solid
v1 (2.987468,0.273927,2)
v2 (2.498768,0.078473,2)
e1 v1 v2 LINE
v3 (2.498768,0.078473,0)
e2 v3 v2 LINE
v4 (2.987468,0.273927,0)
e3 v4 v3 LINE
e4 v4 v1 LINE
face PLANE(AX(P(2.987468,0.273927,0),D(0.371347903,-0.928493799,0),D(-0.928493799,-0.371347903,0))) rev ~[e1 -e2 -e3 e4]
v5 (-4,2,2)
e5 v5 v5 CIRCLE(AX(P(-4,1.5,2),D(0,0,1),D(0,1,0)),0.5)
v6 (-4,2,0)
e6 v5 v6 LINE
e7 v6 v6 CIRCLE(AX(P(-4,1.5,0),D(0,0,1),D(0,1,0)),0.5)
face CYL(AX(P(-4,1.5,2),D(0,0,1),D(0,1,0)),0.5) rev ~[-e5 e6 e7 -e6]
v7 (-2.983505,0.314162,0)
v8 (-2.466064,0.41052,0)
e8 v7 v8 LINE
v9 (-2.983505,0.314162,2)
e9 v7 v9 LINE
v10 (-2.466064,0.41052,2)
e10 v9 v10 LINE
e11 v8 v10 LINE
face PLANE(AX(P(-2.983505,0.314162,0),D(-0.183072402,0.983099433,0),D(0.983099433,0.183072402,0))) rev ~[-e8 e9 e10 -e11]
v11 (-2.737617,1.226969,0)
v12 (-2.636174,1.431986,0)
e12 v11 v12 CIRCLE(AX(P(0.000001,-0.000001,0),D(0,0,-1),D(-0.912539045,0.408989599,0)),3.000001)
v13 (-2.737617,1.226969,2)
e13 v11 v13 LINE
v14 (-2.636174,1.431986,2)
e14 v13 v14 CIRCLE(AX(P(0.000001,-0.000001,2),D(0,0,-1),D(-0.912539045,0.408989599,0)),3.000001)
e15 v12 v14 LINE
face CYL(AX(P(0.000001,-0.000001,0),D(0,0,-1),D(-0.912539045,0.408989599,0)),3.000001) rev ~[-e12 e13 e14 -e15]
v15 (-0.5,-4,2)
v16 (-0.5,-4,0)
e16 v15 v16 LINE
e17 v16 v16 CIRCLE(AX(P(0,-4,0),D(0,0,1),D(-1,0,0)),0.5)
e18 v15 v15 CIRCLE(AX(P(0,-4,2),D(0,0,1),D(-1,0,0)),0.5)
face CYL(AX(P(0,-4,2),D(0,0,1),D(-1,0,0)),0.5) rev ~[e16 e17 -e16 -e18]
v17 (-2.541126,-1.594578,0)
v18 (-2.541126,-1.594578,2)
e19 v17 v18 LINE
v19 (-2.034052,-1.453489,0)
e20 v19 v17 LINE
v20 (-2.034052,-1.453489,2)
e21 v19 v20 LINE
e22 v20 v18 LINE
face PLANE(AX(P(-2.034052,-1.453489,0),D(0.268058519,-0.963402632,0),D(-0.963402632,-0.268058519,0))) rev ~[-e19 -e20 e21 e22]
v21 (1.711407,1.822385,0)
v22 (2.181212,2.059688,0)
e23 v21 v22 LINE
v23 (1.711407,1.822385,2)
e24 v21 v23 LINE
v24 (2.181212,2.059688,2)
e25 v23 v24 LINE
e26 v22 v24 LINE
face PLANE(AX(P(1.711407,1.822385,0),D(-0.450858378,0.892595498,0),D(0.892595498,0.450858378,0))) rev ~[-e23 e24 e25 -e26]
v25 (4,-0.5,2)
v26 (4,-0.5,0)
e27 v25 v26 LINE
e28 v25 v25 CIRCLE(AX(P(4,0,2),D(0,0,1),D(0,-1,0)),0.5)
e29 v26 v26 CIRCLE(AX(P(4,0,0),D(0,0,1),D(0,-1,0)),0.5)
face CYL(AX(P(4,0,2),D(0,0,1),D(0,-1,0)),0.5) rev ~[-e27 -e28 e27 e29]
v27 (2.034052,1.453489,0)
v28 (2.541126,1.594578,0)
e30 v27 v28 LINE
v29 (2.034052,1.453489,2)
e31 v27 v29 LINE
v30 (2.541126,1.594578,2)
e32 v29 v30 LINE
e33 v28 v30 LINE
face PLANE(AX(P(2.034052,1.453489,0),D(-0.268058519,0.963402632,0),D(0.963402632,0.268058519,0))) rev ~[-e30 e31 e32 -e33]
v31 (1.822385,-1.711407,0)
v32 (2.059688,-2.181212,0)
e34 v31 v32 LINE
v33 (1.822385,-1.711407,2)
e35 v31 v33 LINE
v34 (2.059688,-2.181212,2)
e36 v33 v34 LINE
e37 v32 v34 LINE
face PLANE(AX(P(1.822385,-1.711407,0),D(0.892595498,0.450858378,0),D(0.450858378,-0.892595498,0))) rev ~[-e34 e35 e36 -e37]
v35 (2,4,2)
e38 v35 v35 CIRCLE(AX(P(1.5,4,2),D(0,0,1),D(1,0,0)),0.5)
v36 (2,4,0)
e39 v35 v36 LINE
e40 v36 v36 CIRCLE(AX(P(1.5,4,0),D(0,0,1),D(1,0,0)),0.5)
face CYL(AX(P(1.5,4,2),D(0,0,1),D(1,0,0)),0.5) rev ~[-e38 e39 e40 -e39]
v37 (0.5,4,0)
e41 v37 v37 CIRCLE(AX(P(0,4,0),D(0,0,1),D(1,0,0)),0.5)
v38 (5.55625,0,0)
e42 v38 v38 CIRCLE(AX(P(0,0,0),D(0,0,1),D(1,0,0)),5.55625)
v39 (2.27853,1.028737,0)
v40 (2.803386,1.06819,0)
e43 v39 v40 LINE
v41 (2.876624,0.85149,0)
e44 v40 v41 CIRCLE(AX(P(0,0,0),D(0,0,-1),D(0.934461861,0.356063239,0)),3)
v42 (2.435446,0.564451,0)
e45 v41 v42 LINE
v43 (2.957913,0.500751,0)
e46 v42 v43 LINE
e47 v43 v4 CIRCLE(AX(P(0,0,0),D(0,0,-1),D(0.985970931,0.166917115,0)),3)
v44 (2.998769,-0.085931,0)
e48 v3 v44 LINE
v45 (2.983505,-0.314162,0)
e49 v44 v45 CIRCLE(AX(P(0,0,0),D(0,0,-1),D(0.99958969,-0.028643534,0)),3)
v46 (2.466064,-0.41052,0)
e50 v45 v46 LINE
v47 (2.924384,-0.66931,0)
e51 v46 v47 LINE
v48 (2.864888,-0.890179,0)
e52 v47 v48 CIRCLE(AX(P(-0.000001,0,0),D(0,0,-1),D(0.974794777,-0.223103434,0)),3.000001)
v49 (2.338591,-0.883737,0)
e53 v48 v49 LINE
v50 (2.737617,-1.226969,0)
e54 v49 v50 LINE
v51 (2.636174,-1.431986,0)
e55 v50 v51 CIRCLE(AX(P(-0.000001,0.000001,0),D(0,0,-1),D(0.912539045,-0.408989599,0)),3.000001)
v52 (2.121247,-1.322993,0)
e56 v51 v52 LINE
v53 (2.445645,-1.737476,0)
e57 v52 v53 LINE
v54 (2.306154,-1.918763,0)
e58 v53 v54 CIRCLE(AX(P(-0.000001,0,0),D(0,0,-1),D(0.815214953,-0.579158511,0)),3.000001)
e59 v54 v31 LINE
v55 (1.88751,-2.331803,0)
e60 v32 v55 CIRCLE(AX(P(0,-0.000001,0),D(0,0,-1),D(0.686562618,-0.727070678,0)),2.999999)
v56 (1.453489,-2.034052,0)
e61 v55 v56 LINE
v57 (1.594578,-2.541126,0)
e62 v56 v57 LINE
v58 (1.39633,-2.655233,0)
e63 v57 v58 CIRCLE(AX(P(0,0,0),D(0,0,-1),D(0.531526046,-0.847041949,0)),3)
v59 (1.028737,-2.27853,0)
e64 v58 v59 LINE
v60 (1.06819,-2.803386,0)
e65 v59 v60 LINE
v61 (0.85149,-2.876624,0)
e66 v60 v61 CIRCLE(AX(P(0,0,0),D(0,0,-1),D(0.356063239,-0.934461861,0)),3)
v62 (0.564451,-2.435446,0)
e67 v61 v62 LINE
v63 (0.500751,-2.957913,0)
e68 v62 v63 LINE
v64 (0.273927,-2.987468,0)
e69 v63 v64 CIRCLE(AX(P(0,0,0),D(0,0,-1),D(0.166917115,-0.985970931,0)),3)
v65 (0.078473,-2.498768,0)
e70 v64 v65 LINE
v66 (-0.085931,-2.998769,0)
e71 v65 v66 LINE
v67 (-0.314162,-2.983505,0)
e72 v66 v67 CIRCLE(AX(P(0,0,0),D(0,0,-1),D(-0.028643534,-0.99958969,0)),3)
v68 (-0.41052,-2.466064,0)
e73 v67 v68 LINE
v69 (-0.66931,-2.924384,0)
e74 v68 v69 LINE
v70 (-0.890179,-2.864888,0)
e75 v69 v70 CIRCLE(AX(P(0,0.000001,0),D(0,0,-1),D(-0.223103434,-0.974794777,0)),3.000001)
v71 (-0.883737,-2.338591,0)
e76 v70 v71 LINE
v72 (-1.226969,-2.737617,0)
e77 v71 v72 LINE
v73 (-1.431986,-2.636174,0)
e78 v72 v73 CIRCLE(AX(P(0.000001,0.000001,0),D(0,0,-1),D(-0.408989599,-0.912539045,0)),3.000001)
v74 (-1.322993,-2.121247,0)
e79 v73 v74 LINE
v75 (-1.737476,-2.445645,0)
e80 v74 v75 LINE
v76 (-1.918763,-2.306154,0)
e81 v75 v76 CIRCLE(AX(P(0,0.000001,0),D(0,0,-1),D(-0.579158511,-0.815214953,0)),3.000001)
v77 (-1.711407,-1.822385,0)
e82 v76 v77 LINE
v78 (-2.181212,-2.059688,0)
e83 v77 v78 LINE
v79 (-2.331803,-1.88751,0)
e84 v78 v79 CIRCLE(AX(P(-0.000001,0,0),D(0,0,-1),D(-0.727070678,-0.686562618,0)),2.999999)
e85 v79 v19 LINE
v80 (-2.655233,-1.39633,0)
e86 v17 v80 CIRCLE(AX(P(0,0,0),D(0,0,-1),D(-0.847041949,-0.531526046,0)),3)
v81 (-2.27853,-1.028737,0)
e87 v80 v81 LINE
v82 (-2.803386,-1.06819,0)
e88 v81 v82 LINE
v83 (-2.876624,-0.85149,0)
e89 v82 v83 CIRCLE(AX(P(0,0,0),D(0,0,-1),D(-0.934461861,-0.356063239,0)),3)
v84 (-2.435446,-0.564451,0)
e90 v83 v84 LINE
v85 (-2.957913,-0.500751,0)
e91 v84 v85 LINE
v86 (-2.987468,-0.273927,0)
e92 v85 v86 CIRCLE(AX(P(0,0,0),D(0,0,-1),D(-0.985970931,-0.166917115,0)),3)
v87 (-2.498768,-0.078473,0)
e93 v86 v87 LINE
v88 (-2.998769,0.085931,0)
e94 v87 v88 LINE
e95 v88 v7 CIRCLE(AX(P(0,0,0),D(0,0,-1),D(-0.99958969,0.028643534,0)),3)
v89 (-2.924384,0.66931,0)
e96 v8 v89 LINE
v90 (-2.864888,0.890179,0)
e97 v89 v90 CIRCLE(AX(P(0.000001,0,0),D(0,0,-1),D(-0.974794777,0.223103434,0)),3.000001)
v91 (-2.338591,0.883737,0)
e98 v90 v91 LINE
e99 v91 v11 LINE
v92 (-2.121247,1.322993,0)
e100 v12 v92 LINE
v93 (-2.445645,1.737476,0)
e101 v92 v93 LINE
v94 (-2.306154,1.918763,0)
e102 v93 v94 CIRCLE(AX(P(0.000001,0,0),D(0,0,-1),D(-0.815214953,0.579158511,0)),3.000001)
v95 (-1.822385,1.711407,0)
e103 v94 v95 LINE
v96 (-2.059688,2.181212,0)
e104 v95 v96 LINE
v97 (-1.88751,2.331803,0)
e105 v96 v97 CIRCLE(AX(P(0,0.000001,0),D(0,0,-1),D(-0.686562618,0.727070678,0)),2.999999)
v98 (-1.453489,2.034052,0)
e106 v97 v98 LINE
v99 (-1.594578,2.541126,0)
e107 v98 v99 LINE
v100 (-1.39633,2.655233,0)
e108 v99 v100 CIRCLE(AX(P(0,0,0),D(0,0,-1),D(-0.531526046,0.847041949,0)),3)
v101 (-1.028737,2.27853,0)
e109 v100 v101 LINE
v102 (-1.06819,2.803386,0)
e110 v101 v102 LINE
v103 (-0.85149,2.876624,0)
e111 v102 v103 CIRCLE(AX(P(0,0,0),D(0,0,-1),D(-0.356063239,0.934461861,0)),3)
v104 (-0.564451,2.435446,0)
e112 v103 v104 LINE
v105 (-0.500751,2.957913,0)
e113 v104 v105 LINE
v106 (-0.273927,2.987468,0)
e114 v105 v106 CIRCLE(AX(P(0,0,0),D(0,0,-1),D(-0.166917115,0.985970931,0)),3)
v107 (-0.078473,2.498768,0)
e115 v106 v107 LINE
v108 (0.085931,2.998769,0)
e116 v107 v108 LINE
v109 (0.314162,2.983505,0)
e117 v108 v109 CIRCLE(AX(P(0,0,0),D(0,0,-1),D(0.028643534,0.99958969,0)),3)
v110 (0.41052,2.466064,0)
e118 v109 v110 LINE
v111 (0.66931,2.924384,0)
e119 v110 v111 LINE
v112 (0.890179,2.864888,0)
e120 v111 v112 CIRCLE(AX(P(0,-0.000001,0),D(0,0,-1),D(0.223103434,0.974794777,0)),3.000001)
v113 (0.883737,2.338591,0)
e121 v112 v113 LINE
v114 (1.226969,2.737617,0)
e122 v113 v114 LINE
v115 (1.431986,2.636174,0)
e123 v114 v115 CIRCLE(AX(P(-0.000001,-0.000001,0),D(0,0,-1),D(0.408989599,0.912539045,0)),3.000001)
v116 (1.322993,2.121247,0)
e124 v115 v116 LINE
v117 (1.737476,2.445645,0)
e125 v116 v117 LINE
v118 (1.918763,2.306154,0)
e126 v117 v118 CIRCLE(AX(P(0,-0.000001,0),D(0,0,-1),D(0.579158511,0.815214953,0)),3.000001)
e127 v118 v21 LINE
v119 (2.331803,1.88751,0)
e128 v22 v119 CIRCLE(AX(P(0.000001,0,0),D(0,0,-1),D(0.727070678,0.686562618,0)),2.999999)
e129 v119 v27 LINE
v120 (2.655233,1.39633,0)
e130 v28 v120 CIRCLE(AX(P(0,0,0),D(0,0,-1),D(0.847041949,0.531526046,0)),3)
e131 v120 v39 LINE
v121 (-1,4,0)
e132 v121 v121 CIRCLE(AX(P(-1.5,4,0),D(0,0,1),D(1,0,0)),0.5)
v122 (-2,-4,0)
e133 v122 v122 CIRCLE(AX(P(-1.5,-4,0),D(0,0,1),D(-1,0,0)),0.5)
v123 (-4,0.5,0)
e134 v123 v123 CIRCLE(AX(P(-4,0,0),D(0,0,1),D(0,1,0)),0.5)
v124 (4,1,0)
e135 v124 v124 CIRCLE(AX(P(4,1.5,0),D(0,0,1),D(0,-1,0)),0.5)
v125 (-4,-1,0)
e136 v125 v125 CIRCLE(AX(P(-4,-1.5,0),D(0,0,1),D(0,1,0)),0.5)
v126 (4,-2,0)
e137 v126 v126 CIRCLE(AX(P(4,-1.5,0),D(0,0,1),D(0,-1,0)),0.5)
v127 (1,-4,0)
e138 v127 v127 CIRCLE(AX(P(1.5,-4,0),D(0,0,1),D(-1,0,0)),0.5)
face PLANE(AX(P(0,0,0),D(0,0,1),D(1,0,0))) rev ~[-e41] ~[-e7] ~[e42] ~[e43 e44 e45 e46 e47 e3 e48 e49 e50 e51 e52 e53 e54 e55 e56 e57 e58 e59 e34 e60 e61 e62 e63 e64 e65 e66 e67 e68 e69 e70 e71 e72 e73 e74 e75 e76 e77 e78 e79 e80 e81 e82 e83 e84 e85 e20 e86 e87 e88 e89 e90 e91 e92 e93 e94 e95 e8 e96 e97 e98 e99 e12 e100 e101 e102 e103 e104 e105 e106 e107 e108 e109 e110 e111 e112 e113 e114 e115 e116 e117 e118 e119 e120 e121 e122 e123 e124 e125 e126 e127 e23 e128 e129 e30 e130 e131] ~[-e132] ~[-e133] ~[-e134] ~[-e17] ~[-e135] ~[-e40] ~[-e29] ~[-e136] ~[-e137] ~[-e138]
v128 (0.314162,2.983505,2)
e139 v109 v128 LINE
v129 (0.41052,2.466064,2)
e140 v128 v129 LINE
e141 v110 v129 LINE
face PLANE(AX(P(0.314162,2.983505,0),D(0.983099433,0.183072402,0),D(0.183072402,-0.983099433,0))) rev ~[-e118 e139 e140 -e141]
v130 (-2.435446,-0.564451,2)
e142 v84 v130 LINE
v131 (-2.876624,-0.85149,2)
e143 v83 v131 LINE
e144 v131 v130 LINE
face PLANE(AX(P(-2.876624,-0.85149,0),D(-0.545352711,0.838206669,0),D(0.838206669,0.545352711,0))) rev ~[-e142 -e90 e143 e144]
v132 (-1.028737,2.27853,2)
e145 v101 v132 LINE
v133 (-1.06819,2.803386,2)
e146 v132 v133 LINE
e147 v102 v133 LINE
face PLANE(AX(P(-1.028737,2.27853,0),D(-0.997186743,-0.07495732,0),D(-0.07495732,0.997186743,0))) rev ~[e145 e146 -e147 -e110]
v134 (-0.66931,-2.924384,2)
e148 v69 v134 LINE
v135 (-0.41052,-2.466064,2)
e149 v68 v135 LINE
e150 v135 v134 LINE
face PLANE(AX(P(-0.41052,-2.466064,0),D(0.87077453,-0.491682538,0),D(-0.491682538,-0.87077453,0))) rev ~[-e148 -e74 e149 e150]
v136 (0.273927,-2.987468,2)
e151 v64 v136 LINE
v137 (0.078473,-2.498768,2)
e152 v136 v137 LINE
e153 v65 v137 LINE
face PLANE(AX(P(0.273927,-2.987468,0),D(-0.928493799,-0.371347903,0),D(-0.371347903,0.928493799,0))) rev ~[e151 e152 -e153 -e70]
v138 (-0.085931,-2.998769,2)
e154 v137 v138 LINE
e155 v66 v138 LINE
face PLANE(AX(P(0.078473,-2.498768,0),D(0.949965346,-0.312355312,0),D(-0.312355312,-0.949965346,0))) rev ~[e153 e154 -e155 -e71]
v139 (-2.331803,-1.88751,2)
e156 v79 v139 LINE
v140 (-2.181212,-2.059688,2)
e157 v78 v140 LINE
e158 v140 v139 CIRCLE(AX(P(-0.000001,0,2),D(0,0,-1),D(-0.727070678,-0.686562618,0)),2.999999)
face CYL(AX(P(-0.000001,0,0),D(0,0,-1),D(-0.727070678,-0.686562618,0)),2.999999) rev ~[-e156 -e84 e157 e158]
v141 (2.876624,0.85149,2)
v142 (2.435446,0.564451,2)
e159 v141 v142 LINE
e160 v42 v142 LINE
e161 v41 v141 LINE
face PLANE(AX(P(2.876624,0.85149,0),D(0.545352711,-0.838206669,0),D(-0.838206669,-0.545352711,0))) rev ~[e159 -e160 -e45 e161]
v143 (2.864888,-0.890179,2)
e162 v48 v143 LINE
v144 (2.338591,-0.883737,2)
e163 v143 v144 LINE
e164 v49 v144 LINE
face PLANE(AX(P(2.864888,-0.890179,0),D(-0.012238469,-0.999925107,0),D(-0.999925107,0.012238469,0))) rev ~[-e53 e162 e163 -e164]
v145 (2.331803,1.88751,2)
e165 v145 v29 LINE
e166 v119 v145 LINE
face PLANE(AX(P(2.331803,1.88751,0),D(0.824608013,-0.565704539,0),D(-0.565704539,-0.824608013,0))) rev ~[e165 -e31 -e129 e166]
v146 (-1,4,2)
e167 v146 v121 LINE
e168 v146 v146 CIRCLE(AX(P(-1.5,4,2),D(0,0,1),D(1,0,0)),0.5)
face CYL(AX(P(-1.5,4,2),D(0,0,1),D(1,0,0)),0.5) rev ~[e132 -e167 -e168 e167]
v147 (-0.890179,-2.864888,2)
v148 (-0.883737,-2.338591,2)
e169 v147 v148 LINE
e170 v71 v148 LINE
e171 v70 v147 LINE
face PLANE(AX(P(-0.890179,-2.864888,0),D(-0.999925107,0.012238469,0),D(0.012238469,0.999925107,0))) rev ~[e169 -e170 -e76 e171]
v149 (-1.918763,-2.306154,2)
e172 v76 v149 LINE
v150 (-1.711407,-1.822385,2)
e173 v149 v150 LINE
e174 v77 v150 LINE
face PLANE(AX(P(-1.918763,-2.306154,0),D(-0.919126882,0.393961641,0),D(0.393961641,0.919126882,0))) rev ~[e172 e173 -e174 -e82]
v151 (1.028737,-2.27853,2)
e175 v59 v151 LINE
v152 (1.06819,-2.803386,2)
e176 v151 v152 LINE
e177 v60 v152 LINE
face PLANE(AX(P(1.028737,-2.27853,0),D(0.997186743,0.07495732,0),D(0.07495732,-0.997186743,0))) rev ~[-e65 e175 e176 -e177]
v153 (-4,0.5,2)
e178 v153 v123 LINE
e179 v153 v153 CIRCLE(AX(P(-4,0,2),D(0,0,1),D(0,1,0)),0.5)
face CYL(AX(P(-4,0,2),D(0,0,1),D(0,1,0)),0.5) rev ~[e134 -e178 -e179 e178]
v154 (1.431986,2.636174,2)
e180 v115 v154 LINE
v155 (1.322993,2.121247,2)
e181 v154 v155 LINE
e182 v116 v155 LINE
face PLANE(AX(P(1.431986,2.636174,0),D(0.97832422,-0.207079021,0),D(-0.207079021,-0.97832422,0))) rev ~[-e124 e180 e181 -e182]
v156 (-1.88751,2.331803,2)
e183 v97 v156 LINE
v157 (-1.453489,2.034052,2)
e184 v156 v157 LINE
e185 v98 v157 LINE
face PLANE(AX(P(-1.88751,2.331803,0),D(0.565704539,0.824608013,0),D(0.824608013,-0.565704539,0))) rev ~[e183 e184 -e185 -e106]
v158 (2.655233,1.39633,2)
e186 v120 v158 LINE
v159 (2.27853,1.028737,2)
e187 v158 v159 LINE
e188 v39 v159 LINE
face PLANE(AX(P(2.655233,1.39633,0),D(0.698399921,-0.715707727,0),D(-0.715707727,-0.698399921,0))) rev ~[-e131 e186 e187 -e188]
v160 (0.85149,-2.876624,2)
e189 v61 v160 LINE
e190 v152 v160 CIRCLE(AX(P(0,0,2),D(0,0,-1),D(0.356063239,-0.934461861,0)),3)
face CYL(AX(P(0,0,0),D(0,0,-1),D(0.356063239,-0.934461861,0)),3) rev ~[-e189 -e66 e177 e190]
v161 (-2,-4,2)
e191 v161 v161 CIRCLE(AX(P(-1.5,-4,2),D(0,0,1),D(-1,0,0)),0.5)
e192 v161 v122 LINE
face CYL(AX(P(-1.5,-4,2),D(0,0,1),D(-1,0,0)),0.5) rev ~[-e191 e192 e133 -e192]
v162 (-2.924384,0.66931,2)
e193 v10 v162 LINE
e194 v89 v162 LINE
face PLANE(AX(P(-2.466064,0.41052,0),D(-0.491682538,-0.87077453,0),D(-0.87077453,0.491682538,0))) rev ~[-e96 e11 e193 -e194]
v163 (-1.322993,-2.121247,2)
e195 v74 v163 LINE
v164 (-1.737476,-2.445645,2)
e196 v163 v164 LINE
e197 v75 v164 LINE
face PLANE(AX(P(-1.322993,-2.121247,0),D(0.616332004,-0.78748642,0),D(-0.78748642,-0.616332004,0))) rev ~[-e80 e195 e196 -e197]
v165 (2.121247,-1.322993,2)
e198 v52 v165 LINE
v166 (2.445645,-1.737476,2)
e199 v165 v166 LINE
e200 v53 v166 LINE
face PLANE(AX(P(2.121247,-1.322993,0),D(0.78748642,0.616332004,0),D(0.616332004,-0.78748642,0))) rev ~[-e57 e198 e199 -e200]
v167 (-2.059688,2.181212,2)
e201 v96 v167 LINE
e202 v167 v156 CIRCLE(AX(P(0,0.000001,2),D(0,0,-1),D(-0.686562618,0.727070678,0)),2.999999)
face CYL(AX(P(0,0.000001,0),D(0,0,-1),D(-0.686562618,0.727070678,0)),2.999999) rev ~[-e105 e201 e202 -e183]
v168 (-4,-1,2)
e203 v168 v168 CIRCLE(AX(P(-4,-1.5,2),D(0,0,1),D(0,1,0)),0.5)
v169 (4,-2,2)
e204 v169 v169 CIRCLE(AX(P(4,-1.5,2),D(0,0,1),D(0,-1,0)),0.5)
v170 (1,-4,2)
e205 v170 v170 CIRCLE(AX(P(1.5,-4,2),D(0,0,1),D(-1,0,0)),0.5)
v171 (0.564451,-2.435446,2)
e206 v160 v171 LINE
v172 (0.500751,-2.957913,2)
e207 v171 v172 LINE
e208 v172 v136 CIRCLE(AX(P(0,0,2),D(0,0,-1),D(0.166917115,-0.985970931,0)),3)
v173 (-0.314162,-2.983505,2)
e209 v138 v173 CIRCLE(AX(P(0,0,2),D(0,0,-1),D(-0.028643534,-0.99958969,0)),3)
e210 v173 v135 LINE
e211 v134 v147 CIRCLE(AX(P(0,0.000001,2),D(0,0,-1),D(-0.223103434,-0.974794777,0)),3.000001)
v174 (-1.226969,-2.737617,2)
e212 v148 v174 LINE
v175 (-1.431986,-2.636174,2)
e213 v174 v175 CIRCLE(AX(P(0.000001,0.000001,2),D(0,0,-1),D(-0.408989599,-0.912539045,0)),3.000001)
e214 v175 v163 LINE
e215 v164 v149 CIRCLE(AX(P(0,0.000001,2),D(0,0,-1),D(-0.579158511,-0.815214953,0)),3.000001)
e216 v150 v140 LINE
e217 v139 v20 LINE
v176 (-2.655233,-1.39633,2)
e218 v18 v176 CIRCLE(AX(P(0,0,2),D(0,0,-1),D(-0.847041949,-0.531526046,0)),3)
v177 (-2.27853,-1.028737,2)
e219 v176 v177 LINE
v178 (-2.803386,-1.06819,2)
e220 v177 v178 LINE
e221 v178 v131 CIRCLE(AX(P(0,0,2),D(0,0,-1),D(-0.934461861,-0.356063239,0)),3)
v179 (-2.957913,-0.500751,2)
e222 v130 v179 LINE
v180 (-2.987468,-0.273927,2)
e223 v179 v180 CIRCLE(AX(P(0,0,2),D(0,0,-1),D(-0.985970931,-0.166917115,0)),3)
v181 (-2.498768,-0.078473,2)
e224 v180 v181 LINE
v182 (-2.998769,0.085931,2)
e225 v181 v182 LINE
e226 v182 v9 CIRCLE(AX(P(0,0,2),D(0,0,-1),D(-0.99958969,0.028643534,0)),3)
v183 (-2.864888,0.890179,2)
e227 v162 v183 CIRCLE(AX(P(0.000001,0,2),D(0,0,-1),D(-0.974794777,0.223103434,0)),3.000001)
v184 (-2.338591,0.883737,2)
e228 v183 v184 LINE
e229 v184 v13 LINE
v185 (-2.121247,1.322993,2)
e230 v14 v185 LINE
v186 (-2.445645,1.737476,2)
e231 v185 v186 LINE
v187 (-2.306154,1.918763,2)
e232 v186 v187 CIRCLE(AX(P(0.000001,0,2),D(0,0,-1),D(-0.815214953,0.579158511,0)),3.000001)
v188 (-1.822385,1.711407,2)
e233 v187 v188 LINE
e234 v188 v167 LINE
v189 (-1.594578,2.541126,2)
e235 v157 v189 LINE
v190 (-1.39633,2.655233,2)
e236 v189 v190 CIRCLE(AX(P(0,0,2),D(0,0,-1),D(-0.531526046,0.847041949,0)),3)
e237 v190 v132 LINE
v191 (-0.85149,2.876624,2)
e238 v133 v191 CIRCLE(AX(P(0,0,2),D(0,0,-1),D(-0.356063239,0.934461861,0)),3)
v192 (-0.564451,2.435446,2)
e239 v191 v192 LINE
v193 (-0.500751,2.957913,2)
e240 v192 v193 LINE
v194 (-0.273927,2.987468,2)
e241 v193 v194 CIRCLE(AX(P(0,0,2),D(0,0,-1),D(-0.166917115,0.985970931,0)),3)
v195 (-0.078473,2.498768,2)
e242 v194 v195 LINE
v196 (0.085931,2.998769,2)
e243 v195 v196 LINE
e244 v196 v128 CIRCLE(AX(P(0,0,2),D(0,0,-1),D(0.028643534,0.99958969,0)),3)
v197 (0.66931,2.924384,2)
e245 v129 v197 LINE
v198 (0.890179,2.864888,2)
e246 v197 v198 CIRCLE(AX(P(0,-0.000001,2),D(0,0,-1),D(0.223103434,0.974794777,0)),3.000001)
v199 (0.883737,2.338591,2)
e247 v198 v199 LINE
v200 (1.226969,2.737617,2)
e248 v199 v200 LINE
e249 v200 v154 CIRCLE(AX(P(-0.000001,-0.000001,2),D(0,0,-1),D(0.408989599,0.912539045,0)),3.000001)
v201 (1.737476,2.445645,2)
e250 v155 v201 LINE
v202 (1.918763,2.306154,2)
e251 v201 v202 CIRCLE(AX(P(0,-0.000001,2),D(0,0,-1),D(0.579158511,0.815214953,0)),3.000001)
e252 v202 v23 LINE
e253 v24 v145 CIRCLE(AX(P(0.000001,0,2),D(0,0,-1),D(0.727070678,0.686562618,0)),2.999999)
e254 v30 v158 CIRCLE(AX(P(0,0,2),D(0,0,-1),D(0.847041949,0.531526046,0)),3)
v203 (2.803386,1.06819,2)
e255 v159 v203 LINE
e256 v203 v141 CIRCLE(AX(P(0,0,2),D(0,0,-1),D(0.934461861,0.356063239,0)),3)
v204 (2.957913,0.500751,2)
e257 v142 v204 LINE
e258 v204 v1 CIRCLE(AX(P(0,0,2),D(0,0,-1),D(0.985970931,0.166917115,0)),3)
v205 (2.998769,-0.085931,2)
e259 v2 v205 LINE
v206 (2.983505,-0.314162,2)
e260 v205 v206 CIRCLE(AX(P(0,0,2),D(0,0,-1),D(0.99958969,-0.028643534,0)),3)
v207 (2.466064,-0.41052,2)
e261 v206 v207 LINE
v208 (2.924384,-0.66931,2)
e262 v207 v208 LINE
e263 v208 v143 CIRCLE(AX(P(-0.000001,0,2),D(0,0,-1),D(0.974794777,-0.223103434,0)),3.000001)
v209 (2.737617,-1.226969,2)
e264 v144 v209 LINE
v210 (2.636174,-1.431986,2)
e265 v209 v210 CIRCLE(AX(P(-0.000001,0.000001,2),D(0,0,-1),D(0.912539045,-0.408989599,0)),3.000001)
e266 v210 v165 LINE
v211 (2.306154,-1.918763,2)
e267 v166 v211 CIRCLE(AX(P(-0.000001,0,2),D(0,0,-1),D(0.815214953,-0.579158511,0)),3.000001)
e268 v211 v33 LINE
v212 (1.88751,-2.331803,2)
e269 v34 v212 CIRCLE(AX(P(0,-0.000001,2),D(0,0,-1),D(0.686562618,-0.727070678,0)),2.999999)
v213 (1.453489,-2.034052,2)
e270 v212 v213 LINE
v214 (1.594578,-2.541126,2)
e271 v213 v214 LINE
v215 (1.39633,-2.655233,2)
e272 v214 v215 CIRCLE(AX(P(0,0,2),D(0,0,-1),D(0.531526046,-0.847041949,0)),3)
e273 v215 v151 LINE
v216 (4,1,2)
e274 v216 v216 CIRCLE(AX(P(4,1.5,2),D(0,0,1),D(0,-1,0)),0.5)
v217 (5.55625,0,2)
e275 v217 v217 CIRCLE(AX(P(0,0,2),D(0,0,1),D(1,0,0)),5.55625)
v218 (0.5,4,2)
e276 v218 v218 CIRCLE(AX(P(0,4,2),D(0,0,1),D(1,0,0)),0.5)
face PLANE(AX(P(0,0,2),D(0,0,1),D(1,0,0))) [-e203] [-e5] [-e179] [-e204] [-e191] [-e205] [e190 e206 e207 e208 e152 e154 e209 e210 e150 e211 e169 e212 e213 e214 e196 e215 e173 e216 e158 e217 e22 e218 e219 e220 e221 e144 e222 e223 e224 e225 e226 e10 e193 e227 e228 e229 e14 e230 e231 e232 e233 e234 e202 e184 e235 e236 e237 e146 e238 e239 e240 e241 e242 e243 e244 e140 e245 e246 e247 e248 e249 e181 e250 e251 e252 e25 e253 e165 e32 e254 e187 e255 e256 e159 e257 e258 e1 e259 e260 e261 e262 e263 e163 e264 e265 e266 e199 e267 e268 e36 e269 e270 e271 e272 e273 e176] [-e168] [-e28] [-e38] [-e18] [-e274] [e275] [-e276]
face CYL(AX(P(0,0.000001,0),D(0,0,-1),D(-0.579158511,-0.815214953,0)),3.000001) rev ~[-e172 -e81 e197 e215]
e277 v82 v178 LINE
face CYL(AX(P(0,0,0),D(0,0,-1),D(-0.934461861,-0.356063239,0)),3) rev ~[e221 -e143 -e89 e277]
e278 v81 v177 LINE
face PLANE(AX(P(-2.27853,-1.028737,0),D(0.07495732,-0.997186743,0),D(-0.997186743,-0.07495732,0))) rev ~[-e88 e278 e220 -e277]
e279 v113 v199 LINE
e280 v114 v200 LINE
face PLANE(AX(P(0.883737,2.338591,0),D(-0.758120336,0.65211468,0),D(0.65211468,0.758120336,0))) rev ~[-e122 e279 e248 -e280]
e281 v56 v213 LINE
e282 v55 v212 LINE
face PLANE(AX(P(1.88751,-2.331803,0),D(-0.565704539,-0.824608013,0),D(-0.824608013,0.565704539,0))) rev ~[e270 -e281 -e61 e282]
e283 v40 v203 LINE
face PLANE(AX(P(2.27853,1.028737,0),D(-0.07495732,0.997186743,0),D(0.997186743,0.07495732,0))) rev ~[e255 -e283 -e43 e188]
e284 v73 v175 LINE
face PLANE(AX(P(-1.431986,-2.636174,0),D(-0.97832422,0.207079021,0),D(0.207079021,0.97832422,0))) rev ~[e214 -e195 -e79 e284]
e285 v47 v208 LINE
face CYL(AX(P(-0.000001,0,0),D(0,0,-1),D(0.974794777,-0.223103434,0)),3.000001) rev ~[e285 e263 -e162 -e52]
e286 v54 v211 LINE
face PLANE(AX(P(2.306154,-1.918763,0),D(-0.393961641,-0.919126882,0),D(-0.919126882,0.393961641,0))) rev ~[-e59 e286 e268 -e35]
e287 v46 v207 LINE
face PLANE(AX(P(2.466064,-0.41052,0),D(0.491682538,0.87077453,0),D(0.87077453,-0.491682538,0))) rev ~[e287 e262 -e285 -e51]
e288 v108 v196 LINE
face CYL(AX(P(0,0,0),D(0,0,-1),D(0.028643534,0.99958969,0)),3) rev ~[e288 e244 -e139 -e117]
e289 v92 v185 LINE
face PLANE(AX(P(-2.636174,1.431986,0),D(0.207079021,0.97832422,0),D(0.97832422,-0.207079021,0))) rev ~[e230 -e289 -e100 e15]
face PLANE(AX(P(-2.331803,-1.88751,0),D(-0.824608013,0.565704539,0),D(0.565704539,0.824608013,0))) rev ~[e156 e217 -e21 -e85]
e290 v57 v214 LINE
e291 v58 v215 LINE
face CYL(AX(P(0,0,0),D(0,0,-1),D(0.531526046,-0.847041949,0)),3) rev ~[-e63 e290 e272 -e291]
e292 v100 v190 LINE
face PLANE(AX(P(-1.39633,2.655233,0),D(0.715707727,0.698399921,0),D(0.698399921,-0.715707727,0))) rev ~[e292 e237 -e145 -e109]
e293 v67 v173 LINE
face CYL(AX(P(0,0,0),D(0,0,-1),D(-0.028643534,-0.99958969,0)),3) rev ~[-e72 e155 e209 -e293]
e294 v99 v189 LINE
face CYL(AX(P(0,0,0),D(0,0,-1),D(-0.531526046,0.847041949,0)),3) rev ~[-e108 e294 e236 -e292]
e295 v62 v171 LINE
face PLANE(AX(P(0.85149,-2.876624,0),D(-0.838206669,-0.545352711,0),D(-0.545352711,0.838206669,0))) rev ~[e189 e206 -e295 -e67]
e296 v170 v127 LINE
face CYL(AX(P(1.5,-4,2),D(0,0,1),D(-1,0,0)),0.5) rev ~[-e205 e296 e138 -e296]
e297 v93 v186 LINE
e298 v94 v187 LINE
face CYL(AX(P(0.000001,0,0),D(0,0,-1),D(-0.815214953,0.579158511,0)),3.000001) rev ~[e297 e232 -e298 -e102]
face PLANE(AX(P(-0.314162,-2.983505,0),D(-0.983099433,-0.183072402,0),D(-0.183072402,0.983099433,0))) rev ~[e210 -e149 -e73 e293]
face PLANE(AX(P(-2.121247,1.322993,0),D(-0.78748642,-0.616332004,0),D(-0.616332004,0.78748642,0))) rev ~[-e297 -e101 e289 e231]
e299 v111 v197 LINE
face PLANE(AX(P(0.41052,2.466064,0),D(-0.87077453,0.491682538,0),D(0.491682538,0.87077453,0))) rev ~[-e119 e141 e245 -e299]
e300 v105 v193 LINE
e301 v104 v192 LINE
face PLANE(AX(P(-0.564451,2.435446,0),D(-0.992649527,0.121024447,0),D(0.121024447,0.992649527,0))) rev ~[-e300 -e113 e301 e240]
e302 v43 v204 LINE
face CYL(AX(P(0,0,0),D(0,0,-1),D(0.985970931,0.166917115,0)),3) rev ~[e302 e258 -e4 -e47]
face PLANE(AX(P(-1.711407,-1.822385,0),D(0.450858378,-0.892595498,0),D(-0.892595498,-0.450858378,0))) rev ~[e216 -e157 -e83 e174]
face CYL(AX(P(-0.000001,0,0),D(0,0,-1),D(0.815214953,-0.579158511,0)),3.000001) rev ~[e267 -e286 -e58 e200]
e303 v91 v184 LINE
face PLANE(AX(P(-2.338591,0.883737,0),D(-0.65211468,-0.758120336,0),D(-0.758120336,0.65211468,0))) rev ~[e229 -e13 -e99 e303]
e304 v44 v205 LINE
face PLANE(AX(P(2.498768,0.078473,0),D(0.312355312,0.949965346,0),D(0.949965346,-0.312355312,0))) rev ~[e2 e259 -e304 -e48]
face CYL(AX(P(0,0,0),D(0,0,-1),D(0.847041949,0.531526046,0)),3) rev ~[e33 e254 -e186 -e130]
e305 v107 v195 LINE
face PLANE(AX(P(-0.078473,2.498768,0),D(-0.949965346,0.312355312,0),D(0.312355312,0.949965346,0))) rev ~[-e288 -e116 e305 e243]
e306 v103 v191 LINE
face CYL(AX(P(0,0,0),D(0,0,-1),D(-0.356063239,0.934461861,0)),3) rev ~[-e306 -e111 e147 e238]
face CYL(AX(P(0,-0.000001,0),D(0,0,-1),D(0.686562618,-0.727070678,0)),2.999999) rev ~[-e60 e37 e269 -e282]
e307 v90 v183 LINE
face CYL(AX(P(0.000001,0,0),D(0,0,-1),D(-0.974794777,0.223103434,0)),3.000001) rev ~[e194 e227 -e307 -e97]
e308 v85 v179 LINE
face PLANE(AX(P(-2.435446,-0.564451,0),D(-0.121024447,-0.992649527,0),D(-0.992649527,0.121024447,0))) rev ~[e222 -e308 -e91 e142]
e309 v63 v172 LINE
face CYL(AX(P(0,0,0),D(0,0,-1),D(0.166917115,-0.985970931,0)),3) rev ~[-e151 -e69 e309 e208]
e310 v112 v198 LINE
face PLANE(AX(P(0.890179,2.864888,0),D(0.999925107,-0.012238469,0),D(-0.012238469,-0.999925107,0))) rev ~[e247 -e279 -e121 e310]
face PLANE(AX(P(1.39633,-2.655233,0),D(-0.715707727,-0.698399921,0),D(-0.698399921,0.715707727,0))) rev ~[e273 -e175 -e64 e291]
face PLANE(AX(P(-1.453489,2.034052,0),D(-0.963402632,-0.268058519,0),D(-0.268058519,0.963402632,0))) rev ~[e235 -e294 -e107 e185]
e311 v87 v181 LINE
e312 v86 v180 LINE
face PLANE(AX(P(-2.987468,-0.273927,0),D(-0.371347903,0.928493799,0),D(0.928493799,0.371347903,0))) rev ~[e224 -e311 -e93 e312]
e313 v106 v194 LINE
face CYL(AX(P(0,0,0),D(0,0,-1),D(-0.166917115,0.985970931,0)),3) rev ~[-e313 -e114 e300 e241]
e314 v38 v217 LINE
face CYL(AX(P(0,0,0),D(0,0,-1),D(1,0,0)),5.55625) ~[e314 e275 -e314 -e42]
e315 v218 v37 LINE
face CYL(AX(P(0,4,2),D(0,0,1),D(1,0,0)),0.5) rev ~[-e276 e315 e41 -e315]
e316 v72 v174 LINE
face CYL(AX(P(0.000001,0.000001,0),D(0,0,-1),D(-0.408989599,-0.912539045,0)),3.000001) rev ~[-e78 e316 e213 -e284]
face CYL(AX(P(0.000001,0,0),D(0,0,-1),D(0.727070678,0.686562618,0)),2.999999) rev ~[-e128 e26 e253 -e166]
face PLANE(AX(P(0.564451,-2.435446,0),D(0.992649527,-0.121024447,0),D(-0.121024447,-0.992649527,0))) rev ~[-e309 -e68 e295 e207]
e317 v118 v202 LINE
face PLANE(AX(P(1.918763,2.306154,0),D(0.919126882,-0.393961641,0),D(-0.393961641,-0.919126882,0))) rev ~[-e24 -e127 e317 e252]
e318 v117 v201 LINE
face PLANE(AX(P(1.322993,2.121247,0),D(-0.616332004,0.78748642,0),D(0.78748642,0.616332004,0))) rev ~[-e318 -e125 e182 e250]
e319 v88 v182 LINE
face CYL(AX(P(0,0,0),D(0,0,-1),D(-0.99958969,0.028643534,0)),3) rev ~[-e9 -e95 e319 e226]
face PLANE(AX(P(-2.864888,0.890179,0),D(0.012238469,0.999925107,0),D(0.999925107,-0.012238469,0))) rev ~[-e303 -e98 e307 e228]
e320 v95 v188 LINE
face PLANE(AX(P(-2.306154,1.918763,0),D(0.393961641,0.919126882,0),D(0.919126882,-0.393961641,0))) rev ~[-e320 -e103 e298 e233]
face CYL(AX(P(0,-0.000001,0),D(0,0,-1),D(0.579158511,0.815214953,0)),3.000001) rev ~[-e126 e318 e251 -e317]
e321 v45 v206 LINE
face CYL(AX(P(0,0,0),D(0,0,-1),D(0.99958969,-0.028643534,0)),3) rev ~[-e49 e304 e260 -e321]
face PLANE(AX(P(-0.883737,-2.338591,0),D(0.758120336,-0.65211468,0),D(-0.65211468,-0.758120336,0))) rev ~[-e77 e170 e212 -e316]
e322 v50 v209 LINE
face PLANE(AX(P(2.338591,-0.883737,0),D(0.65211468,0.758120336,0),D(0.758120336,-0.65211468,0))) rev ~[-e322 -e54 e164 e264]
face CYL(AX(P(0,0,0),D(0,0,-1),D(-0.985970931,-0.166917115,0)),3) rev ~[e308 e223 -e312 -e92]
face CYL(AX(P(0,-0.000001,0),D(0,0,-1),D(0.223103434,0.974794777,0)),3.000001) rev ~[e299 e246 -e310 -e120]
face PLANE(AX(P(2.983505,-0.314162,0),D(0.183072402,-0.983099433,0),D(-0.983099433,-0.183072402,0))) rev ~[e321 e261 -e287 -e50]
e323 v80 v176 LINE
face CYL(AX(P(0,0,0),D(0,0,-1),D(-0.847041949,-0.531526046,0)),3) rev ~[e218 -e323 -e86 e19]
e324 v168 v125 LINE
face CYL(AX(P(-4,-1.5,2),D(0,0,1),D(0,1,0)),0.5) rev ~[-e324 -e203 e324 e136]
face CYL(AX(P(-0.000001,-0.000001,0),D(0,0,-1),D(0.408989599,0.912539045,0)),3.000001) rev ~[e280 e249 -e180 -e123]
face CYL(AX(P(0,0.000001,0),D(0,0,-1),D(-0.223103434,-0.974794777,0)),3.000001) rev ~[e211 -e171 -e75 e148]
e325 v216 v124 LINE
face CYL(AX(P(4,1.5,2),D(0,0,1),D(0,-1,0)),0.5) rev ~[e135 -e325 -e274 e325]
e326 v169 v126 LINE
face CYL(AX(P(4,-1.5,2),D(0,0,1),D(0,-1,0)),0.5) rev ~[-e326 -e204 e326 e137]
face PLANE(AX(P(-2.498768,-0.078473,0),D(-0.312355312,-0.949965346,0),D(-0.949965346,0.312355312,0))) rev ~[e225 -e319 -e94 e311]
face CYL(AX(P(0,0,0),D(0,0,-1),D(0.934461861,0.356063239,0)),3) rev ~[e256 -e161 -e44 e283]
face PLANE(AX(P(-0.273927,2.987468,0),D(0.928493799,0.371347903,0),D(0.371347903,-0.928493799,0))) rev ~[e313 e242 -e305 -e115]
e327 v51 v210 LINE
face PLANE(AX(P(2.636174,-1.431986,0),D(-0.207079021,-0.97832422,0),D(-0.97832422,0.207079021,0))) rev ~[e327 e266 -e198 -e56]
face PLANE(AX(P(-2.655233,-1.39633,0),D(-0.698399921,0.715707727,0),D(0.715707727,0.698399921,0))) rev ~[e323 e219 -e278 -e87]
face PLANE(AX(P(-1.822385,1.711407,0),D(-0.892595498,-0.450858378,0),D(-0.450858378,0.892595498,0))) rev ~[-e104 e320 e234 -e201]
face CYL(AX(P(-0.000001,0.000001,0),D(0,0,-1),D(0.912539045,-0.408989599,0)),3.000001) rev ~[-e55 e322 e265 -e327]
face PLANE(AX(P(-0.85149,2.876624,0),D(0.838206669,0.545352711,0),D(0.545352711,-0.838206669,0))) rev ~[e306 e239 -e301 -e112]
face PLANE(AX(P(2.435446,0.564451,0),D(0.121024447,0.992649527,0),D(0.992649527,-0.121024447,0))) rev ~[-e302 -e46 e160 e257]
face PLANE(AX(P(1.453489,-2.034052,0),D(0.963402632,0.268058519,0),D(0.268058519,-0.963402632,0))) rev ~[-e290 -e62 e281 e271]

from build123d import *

# Parameters (mm, degrees)
SKETCH1_R          = 5.55625
EXTRUDE1_DEPTH     = 2
SKETCH2_R          = 0.5
CUT_EXTRUDE1_DEPTH = 2
CIRPATTERN1_COUNT  = 4
CUT_EXTRUDE2_DEPTH = 2


with BuildPart() as part:
    # Sketch1 → Extrude1 (new body)
    with BuildSketch(Plane.XY):
        Circle(SKETCH1_R)
    extrude(amount=EXTRUDE1_DEPTH)

    # Sketch2 → Cut-Extrude1 (cut)
    with BuildSketch(Plane.XY.offset(2)):
        with Locations((-1.5, 4)):
            Circle(SKETCH2_R)
        with Locations((0, 4)):
            Circle(SKETCH2_R)
        with Locations((1.5, 4)):
            Circle(SKETCH2_R)
    cut_extrude1 = extrude(amount=-CUT_EXTRUDE1_DEPTH, mode=Mode.SUBTRACT)

    # CirPattern1: Cut-Extrude1 ×4 about axis
    cirpattern1_axis = Axis((0, 0, 0), (0, 0, 1))
    for i in range(1, CIRPATTERN1_COUNT):
        add(cut_extrude1.rotate(cirpattern1_axis, i * 360 / CIRPATTERN1_COUNT), mode=Mode.SUBTRACT)

    # Sketch3 → Cut-Extrude2 (cut)
    with BuildSketch(Plane(origin=(0, 0, 0), x_dir=(-1, 0, 0), z_dir=(0, 0, -1))):
        with BuildLine():
            Line((2.655233037, -1.396330018), (2.278530277, -1.02873698))
            Line((2.278530277, -1.02873698), (2.803385583, -1.068189718))
            ThreePointArc((2.803385583, -1.068189718), (2.842070866, -0.960537971), (2.876623952, -0.85148966))
            Line((2.876623952, -0.85148966), (2.435445586, -0.564450882))
            Line((2.435445586, -0.564450882), (2.957912791, -0.500751356))
            ThreePointArc((2.957912791, -0.500751356), (2.974852933, -0.387620982), (2.987467821, -0.273927032))
            Line((2.987467821, -0.273927032), (2.498768086, -0.078473253))
            Line((2.498768086, -0.078473253), (2.998769069, 0.0859306))
            ThreePointArc((2.998769069, 0.0859306), (2.99331307, 0.200192063), (2.983504977, 0.314162459))
            Line((2.983504977, 0.314162459), (2.46606433, 0.410520059))
            Line((2.46606433, 0.410520059), (2.924384334, 0.669310291))
            ThreePointArc((2.924384334, 0.669310291), (2.896741865, 0.780311839), (2.864887711, 0.890178862))
            Line((2.864887711, 0.890178862), (2.338591105, 0.883737315))
            Line((2.338591105, 0.883737315), (2.737617149, 1.226968763))
            ThreePointArc((2.737617149, 1.226968763), (2.688850494, 1.330444669), (2.636174416, 1.431986191))
            Line((2.636174416, 1.431986191), (2.121247135, 1.322993042))
            Line((2.121247135, 1.322993042), (2.445644872, 1.737475514))
            ThreePointArc((2.445644872, 1.737475514), (2.377628107, 1.829449257), (2.306154417, 1.918763093))
            Line((2.306154417, 1.918763093), (1.822384828, 1.711406889))
            Line((1.822384828, 1.711406889), (2.059687834, 2.181212054))
            ThreePointArc((2.059687834, 2.181212054), (1.975034805, 2.258149136), (1.887510196, 2.331803006))
            Line((1.887510196, 2.331803006), (1.453489293, 2.034052328))
            Line((1.453489293, 2.034052328), (1.594578148, 2.541125839))
            ThreePointArc((1.594578148, 2.541125839), (1.496542023, 2.600069609), (1.396330018, 2.655233037))
            Line((1.396330018, 2.655233037), (1.02873698, 2.278530277))
            Line((1.02873698, 2.278530277), (1.068189718, 2.803385583))
            ThreePointArc((1.068189718, 2.803385583), (0.960537971, 2.842070866), (0.85148966, 2.876623952))
            Line((0.85148966, 2.876623952), (0.564450882, 2.435445586))
            Line((0.564450882, 2.435445586), (0.500751356, 2.957912791))
            ThreePointArc((0.500751356, 2.957912791), (0.387620982, 2.974852933), (0.273927032, 2.987467821))
            Line((0.273927032, 2.987467821), (0.078473253, 2.498768086))
            Line((0.078473253, 2.498768086), (-0.0859306, 2.998769069))
            ThreePointArc((-0.0859306, 2.998769069), (-0.200192063, 2.99331307), (-0.314162459, 2.983504977))
            Line((-0.314162459, 2.983504977), (-0.410520059, 2.46606433))
            Line((-0.410520059, 2.46606433), (-0.669310291, 2.924384334))
            ThreePointArc((-0.669310291, 2.924384334), (-0.780311839, 2.896741865), (-0.890178862, 2.864887711))
            Line((-0.890178862, 2.864887711), (-0.883737315, 2.338591105))
            Line((-0.883737315, 2.338591105), (-1.226968763, 2.737617149))
            ThreePointArc((-1.226968763, 2.737617149), (-1.330444669, 2.688850494), (-1.431986191, 2.636174416))
            Line((-1.431986191, 2.636174416), (-1.322993042, 2.121247135))
            Line((-1.322993042, 2.121247135), (-1.737475514, 2.445644872))
            ThreePointArc((-1.737475514, 2.445644872), (-1.829449257, 2.377628107), (-1.918763093, 2.306154417))
            Line((-1.918763093, 2.306154417), (-1.711406889, 1.822384828))
            Line((-1.711406889, 1.822384828), (-2.181212054, 2.059687834))
            ThreePointArc((-2.181212054, 2.059687834), (-2.258149136, 1.975034805), (-2.331803006, 1.887510196))
            Line((-2.331803006, 1.887510196), (-2.034052328, 1.453489293))
            Line((-2.034052328, 1.453489293), (-2.541125839, 1.594578148))
            ThreePointArc((-2.541125839, 1.594578148), (-2.600069609, 1.496542023), (-2.655233037, 1.396330018))
            Line((-2.655233037, 1.396330018), (-2.278530277, 1.02873698))
            Line((-2.278530277, 1.02873698), (-2.803385583, 1.068189718))
            ThreePointArc((-2.803385583, 1.068189718), (-2.842070866, 0.960537971), (-2.876623952, 0.85148966))
            Line((-2.876623952, 0.85148966), (-2.435445586, 0.564450882))
            Line((-2.435445586, 0.564450882), (-2.957912791, 0.500751356))
            ThreePointArc((-2.957912791, 0.500751356), (-2.974852933, 0.387620982), (-2.987467821, 0.273927032))
            Line((-2.987467821, 0.273927032), (-2.498768086, 0.078473253))
            Line((-2.498768086, 0.078473253), (-2.998769069, -0.0859306))
            ThreePointArc((-2.998769069, -0.0859306), (-2.99331307, -0.200192063), (-2.983504977, -0.314162459))
            Line((-2.983504977, -0.314162459), (-2.46606433, -0.410520059))
            Line((-2.46606433, -0.410520059), (-2.924384334, -0.669310291))
            ThreePointArc((-2.924384334, -0.669310291), (-2.896741865, -0.780311839), (-2.864887711, -0.890178862))
            Line((-2.864887711, -0.890178862), (-2.338591105, -0.883737315))
            Line((-2.338591105, -0.883737315), (-2.737617149, -1.226968763))
            ThreePointArc((-2.737617149, -1.226968763), (-2.688850494, -1.330444669), (-2.636174416, -1.431986191))
            Line((-2.636174416, -1.431986191), (-2.121247135, -1.322993042))
            Line((-2.121247135, -1.322993042), (-2.445644872, -1.737475514))
            ThreePointArc((-2.445644872, -1.737475514), (-2.377628107, -1.829449257), (-2.306154417, -1.918763093))
            Line((-2.306154417, -1.918763093), (-1.822384828, -1.711406889))
            Line((-1.822384828, -1.711406889), (-2.059687834, -2.181212054))
            ThreePointArc((-2.059687834, -2.181212054), (-1.975034805, -2.258149136), (-1.887510196, -2.331803006))
            Line((-1.887510196, -2.331803006), (-1.453489293, -2.034052328))
            Line((-1.453489293, -2.034052328), (-1.594578148, -2.541125839))
            ThreePointArc((-1.594578148, -2.541125839), (-1.496542023, -2.600069609), (-1.396330018, -2.655233037))
            Line((-1.396330018, -2.655233037), (-1.02873698, -2.278530277))
            Line((-1.02873698, -2.278530277), (-1.068189718, -2.803385583))
            ThreePointArc((-1.068189718, -2.803385583), (-0.960537971, -2.842070866), (-0.85148966, -2.876623952))
            Line((-0.85148966, -2.876623952), (-0.564450882, -2.435445586))
            Line((-0.564450882, -2.435445586), (-0.500751356, -2.957912791))
            ThreePointArc((-0.500751356, -2.957912791), (-0.387620982, -2.974852933), (-0.273927032, -2.987467821))
            Line((-0.273927032, -2.987467821), (-0.078473253, -2.498768086))
            Line((-0.078473253, -2.498768086), (0.0859306, -2.998769069))
            ThreePointArc((0.0859306, -2.998769069), (0.200192063, -2.99331307), (0.314162459, -2.983504977))
            Line((0.314162459, -2.983504977), (0.410520059, -2.46606433))
            Line((0.410520059, -2.46606433), (0.669310291, -2.924384334))
            ThreePointArc((0.669310291, -2.924384334), (0.780311839, -2.896741865), (0.890178862, -2.864887711))
            Line((0.890178862, -2.864887711), (0.883737315, -2.338591105))
            Line((0.883737315, -2.338591105), (1.226968763, -2.737617149))
            ThreePointArc((1.226968763, -2.737617149), (1.330444669, -2.688850494), (1.431986191, -2.636174416))
            Line((1.431986191, -2.636174416), (1.322993042, -2.121247135))
            Line((1.322993042, -2.121247135), (1.737475514, -2.445644872))
            ThreePointArc((1.737475514, -2.445644872), (1.829449257, -2.377628107), (1.918763093, -2.306154417))
            Line((1.918763093, -2.306154417), (1.711406889, -1.822384828))
            Line((1.711406889, -1.822384828), (2.181212054, -2.059687834))
            ThreePointArc((2.181212054, -2.059687834), (2.258149136, -1.975034805), (2.331803006, -1.887510196))
            Line((2.331803006, -1.887510196), (2.034052328, -1.453489293))
            Line((2.034052328, -1.453489293), (2.541125839, -1.594578148))
            ThreePointArc((2.541125839, -1.594578148), (2.600069609, -1.496542023), (2.655233037, -1.396330018))
        make_face()
    extrude(amount=-CUT_EXTRUDE2_DEPTH, mode=Mode.SUBTRACT)


solid = part.part
